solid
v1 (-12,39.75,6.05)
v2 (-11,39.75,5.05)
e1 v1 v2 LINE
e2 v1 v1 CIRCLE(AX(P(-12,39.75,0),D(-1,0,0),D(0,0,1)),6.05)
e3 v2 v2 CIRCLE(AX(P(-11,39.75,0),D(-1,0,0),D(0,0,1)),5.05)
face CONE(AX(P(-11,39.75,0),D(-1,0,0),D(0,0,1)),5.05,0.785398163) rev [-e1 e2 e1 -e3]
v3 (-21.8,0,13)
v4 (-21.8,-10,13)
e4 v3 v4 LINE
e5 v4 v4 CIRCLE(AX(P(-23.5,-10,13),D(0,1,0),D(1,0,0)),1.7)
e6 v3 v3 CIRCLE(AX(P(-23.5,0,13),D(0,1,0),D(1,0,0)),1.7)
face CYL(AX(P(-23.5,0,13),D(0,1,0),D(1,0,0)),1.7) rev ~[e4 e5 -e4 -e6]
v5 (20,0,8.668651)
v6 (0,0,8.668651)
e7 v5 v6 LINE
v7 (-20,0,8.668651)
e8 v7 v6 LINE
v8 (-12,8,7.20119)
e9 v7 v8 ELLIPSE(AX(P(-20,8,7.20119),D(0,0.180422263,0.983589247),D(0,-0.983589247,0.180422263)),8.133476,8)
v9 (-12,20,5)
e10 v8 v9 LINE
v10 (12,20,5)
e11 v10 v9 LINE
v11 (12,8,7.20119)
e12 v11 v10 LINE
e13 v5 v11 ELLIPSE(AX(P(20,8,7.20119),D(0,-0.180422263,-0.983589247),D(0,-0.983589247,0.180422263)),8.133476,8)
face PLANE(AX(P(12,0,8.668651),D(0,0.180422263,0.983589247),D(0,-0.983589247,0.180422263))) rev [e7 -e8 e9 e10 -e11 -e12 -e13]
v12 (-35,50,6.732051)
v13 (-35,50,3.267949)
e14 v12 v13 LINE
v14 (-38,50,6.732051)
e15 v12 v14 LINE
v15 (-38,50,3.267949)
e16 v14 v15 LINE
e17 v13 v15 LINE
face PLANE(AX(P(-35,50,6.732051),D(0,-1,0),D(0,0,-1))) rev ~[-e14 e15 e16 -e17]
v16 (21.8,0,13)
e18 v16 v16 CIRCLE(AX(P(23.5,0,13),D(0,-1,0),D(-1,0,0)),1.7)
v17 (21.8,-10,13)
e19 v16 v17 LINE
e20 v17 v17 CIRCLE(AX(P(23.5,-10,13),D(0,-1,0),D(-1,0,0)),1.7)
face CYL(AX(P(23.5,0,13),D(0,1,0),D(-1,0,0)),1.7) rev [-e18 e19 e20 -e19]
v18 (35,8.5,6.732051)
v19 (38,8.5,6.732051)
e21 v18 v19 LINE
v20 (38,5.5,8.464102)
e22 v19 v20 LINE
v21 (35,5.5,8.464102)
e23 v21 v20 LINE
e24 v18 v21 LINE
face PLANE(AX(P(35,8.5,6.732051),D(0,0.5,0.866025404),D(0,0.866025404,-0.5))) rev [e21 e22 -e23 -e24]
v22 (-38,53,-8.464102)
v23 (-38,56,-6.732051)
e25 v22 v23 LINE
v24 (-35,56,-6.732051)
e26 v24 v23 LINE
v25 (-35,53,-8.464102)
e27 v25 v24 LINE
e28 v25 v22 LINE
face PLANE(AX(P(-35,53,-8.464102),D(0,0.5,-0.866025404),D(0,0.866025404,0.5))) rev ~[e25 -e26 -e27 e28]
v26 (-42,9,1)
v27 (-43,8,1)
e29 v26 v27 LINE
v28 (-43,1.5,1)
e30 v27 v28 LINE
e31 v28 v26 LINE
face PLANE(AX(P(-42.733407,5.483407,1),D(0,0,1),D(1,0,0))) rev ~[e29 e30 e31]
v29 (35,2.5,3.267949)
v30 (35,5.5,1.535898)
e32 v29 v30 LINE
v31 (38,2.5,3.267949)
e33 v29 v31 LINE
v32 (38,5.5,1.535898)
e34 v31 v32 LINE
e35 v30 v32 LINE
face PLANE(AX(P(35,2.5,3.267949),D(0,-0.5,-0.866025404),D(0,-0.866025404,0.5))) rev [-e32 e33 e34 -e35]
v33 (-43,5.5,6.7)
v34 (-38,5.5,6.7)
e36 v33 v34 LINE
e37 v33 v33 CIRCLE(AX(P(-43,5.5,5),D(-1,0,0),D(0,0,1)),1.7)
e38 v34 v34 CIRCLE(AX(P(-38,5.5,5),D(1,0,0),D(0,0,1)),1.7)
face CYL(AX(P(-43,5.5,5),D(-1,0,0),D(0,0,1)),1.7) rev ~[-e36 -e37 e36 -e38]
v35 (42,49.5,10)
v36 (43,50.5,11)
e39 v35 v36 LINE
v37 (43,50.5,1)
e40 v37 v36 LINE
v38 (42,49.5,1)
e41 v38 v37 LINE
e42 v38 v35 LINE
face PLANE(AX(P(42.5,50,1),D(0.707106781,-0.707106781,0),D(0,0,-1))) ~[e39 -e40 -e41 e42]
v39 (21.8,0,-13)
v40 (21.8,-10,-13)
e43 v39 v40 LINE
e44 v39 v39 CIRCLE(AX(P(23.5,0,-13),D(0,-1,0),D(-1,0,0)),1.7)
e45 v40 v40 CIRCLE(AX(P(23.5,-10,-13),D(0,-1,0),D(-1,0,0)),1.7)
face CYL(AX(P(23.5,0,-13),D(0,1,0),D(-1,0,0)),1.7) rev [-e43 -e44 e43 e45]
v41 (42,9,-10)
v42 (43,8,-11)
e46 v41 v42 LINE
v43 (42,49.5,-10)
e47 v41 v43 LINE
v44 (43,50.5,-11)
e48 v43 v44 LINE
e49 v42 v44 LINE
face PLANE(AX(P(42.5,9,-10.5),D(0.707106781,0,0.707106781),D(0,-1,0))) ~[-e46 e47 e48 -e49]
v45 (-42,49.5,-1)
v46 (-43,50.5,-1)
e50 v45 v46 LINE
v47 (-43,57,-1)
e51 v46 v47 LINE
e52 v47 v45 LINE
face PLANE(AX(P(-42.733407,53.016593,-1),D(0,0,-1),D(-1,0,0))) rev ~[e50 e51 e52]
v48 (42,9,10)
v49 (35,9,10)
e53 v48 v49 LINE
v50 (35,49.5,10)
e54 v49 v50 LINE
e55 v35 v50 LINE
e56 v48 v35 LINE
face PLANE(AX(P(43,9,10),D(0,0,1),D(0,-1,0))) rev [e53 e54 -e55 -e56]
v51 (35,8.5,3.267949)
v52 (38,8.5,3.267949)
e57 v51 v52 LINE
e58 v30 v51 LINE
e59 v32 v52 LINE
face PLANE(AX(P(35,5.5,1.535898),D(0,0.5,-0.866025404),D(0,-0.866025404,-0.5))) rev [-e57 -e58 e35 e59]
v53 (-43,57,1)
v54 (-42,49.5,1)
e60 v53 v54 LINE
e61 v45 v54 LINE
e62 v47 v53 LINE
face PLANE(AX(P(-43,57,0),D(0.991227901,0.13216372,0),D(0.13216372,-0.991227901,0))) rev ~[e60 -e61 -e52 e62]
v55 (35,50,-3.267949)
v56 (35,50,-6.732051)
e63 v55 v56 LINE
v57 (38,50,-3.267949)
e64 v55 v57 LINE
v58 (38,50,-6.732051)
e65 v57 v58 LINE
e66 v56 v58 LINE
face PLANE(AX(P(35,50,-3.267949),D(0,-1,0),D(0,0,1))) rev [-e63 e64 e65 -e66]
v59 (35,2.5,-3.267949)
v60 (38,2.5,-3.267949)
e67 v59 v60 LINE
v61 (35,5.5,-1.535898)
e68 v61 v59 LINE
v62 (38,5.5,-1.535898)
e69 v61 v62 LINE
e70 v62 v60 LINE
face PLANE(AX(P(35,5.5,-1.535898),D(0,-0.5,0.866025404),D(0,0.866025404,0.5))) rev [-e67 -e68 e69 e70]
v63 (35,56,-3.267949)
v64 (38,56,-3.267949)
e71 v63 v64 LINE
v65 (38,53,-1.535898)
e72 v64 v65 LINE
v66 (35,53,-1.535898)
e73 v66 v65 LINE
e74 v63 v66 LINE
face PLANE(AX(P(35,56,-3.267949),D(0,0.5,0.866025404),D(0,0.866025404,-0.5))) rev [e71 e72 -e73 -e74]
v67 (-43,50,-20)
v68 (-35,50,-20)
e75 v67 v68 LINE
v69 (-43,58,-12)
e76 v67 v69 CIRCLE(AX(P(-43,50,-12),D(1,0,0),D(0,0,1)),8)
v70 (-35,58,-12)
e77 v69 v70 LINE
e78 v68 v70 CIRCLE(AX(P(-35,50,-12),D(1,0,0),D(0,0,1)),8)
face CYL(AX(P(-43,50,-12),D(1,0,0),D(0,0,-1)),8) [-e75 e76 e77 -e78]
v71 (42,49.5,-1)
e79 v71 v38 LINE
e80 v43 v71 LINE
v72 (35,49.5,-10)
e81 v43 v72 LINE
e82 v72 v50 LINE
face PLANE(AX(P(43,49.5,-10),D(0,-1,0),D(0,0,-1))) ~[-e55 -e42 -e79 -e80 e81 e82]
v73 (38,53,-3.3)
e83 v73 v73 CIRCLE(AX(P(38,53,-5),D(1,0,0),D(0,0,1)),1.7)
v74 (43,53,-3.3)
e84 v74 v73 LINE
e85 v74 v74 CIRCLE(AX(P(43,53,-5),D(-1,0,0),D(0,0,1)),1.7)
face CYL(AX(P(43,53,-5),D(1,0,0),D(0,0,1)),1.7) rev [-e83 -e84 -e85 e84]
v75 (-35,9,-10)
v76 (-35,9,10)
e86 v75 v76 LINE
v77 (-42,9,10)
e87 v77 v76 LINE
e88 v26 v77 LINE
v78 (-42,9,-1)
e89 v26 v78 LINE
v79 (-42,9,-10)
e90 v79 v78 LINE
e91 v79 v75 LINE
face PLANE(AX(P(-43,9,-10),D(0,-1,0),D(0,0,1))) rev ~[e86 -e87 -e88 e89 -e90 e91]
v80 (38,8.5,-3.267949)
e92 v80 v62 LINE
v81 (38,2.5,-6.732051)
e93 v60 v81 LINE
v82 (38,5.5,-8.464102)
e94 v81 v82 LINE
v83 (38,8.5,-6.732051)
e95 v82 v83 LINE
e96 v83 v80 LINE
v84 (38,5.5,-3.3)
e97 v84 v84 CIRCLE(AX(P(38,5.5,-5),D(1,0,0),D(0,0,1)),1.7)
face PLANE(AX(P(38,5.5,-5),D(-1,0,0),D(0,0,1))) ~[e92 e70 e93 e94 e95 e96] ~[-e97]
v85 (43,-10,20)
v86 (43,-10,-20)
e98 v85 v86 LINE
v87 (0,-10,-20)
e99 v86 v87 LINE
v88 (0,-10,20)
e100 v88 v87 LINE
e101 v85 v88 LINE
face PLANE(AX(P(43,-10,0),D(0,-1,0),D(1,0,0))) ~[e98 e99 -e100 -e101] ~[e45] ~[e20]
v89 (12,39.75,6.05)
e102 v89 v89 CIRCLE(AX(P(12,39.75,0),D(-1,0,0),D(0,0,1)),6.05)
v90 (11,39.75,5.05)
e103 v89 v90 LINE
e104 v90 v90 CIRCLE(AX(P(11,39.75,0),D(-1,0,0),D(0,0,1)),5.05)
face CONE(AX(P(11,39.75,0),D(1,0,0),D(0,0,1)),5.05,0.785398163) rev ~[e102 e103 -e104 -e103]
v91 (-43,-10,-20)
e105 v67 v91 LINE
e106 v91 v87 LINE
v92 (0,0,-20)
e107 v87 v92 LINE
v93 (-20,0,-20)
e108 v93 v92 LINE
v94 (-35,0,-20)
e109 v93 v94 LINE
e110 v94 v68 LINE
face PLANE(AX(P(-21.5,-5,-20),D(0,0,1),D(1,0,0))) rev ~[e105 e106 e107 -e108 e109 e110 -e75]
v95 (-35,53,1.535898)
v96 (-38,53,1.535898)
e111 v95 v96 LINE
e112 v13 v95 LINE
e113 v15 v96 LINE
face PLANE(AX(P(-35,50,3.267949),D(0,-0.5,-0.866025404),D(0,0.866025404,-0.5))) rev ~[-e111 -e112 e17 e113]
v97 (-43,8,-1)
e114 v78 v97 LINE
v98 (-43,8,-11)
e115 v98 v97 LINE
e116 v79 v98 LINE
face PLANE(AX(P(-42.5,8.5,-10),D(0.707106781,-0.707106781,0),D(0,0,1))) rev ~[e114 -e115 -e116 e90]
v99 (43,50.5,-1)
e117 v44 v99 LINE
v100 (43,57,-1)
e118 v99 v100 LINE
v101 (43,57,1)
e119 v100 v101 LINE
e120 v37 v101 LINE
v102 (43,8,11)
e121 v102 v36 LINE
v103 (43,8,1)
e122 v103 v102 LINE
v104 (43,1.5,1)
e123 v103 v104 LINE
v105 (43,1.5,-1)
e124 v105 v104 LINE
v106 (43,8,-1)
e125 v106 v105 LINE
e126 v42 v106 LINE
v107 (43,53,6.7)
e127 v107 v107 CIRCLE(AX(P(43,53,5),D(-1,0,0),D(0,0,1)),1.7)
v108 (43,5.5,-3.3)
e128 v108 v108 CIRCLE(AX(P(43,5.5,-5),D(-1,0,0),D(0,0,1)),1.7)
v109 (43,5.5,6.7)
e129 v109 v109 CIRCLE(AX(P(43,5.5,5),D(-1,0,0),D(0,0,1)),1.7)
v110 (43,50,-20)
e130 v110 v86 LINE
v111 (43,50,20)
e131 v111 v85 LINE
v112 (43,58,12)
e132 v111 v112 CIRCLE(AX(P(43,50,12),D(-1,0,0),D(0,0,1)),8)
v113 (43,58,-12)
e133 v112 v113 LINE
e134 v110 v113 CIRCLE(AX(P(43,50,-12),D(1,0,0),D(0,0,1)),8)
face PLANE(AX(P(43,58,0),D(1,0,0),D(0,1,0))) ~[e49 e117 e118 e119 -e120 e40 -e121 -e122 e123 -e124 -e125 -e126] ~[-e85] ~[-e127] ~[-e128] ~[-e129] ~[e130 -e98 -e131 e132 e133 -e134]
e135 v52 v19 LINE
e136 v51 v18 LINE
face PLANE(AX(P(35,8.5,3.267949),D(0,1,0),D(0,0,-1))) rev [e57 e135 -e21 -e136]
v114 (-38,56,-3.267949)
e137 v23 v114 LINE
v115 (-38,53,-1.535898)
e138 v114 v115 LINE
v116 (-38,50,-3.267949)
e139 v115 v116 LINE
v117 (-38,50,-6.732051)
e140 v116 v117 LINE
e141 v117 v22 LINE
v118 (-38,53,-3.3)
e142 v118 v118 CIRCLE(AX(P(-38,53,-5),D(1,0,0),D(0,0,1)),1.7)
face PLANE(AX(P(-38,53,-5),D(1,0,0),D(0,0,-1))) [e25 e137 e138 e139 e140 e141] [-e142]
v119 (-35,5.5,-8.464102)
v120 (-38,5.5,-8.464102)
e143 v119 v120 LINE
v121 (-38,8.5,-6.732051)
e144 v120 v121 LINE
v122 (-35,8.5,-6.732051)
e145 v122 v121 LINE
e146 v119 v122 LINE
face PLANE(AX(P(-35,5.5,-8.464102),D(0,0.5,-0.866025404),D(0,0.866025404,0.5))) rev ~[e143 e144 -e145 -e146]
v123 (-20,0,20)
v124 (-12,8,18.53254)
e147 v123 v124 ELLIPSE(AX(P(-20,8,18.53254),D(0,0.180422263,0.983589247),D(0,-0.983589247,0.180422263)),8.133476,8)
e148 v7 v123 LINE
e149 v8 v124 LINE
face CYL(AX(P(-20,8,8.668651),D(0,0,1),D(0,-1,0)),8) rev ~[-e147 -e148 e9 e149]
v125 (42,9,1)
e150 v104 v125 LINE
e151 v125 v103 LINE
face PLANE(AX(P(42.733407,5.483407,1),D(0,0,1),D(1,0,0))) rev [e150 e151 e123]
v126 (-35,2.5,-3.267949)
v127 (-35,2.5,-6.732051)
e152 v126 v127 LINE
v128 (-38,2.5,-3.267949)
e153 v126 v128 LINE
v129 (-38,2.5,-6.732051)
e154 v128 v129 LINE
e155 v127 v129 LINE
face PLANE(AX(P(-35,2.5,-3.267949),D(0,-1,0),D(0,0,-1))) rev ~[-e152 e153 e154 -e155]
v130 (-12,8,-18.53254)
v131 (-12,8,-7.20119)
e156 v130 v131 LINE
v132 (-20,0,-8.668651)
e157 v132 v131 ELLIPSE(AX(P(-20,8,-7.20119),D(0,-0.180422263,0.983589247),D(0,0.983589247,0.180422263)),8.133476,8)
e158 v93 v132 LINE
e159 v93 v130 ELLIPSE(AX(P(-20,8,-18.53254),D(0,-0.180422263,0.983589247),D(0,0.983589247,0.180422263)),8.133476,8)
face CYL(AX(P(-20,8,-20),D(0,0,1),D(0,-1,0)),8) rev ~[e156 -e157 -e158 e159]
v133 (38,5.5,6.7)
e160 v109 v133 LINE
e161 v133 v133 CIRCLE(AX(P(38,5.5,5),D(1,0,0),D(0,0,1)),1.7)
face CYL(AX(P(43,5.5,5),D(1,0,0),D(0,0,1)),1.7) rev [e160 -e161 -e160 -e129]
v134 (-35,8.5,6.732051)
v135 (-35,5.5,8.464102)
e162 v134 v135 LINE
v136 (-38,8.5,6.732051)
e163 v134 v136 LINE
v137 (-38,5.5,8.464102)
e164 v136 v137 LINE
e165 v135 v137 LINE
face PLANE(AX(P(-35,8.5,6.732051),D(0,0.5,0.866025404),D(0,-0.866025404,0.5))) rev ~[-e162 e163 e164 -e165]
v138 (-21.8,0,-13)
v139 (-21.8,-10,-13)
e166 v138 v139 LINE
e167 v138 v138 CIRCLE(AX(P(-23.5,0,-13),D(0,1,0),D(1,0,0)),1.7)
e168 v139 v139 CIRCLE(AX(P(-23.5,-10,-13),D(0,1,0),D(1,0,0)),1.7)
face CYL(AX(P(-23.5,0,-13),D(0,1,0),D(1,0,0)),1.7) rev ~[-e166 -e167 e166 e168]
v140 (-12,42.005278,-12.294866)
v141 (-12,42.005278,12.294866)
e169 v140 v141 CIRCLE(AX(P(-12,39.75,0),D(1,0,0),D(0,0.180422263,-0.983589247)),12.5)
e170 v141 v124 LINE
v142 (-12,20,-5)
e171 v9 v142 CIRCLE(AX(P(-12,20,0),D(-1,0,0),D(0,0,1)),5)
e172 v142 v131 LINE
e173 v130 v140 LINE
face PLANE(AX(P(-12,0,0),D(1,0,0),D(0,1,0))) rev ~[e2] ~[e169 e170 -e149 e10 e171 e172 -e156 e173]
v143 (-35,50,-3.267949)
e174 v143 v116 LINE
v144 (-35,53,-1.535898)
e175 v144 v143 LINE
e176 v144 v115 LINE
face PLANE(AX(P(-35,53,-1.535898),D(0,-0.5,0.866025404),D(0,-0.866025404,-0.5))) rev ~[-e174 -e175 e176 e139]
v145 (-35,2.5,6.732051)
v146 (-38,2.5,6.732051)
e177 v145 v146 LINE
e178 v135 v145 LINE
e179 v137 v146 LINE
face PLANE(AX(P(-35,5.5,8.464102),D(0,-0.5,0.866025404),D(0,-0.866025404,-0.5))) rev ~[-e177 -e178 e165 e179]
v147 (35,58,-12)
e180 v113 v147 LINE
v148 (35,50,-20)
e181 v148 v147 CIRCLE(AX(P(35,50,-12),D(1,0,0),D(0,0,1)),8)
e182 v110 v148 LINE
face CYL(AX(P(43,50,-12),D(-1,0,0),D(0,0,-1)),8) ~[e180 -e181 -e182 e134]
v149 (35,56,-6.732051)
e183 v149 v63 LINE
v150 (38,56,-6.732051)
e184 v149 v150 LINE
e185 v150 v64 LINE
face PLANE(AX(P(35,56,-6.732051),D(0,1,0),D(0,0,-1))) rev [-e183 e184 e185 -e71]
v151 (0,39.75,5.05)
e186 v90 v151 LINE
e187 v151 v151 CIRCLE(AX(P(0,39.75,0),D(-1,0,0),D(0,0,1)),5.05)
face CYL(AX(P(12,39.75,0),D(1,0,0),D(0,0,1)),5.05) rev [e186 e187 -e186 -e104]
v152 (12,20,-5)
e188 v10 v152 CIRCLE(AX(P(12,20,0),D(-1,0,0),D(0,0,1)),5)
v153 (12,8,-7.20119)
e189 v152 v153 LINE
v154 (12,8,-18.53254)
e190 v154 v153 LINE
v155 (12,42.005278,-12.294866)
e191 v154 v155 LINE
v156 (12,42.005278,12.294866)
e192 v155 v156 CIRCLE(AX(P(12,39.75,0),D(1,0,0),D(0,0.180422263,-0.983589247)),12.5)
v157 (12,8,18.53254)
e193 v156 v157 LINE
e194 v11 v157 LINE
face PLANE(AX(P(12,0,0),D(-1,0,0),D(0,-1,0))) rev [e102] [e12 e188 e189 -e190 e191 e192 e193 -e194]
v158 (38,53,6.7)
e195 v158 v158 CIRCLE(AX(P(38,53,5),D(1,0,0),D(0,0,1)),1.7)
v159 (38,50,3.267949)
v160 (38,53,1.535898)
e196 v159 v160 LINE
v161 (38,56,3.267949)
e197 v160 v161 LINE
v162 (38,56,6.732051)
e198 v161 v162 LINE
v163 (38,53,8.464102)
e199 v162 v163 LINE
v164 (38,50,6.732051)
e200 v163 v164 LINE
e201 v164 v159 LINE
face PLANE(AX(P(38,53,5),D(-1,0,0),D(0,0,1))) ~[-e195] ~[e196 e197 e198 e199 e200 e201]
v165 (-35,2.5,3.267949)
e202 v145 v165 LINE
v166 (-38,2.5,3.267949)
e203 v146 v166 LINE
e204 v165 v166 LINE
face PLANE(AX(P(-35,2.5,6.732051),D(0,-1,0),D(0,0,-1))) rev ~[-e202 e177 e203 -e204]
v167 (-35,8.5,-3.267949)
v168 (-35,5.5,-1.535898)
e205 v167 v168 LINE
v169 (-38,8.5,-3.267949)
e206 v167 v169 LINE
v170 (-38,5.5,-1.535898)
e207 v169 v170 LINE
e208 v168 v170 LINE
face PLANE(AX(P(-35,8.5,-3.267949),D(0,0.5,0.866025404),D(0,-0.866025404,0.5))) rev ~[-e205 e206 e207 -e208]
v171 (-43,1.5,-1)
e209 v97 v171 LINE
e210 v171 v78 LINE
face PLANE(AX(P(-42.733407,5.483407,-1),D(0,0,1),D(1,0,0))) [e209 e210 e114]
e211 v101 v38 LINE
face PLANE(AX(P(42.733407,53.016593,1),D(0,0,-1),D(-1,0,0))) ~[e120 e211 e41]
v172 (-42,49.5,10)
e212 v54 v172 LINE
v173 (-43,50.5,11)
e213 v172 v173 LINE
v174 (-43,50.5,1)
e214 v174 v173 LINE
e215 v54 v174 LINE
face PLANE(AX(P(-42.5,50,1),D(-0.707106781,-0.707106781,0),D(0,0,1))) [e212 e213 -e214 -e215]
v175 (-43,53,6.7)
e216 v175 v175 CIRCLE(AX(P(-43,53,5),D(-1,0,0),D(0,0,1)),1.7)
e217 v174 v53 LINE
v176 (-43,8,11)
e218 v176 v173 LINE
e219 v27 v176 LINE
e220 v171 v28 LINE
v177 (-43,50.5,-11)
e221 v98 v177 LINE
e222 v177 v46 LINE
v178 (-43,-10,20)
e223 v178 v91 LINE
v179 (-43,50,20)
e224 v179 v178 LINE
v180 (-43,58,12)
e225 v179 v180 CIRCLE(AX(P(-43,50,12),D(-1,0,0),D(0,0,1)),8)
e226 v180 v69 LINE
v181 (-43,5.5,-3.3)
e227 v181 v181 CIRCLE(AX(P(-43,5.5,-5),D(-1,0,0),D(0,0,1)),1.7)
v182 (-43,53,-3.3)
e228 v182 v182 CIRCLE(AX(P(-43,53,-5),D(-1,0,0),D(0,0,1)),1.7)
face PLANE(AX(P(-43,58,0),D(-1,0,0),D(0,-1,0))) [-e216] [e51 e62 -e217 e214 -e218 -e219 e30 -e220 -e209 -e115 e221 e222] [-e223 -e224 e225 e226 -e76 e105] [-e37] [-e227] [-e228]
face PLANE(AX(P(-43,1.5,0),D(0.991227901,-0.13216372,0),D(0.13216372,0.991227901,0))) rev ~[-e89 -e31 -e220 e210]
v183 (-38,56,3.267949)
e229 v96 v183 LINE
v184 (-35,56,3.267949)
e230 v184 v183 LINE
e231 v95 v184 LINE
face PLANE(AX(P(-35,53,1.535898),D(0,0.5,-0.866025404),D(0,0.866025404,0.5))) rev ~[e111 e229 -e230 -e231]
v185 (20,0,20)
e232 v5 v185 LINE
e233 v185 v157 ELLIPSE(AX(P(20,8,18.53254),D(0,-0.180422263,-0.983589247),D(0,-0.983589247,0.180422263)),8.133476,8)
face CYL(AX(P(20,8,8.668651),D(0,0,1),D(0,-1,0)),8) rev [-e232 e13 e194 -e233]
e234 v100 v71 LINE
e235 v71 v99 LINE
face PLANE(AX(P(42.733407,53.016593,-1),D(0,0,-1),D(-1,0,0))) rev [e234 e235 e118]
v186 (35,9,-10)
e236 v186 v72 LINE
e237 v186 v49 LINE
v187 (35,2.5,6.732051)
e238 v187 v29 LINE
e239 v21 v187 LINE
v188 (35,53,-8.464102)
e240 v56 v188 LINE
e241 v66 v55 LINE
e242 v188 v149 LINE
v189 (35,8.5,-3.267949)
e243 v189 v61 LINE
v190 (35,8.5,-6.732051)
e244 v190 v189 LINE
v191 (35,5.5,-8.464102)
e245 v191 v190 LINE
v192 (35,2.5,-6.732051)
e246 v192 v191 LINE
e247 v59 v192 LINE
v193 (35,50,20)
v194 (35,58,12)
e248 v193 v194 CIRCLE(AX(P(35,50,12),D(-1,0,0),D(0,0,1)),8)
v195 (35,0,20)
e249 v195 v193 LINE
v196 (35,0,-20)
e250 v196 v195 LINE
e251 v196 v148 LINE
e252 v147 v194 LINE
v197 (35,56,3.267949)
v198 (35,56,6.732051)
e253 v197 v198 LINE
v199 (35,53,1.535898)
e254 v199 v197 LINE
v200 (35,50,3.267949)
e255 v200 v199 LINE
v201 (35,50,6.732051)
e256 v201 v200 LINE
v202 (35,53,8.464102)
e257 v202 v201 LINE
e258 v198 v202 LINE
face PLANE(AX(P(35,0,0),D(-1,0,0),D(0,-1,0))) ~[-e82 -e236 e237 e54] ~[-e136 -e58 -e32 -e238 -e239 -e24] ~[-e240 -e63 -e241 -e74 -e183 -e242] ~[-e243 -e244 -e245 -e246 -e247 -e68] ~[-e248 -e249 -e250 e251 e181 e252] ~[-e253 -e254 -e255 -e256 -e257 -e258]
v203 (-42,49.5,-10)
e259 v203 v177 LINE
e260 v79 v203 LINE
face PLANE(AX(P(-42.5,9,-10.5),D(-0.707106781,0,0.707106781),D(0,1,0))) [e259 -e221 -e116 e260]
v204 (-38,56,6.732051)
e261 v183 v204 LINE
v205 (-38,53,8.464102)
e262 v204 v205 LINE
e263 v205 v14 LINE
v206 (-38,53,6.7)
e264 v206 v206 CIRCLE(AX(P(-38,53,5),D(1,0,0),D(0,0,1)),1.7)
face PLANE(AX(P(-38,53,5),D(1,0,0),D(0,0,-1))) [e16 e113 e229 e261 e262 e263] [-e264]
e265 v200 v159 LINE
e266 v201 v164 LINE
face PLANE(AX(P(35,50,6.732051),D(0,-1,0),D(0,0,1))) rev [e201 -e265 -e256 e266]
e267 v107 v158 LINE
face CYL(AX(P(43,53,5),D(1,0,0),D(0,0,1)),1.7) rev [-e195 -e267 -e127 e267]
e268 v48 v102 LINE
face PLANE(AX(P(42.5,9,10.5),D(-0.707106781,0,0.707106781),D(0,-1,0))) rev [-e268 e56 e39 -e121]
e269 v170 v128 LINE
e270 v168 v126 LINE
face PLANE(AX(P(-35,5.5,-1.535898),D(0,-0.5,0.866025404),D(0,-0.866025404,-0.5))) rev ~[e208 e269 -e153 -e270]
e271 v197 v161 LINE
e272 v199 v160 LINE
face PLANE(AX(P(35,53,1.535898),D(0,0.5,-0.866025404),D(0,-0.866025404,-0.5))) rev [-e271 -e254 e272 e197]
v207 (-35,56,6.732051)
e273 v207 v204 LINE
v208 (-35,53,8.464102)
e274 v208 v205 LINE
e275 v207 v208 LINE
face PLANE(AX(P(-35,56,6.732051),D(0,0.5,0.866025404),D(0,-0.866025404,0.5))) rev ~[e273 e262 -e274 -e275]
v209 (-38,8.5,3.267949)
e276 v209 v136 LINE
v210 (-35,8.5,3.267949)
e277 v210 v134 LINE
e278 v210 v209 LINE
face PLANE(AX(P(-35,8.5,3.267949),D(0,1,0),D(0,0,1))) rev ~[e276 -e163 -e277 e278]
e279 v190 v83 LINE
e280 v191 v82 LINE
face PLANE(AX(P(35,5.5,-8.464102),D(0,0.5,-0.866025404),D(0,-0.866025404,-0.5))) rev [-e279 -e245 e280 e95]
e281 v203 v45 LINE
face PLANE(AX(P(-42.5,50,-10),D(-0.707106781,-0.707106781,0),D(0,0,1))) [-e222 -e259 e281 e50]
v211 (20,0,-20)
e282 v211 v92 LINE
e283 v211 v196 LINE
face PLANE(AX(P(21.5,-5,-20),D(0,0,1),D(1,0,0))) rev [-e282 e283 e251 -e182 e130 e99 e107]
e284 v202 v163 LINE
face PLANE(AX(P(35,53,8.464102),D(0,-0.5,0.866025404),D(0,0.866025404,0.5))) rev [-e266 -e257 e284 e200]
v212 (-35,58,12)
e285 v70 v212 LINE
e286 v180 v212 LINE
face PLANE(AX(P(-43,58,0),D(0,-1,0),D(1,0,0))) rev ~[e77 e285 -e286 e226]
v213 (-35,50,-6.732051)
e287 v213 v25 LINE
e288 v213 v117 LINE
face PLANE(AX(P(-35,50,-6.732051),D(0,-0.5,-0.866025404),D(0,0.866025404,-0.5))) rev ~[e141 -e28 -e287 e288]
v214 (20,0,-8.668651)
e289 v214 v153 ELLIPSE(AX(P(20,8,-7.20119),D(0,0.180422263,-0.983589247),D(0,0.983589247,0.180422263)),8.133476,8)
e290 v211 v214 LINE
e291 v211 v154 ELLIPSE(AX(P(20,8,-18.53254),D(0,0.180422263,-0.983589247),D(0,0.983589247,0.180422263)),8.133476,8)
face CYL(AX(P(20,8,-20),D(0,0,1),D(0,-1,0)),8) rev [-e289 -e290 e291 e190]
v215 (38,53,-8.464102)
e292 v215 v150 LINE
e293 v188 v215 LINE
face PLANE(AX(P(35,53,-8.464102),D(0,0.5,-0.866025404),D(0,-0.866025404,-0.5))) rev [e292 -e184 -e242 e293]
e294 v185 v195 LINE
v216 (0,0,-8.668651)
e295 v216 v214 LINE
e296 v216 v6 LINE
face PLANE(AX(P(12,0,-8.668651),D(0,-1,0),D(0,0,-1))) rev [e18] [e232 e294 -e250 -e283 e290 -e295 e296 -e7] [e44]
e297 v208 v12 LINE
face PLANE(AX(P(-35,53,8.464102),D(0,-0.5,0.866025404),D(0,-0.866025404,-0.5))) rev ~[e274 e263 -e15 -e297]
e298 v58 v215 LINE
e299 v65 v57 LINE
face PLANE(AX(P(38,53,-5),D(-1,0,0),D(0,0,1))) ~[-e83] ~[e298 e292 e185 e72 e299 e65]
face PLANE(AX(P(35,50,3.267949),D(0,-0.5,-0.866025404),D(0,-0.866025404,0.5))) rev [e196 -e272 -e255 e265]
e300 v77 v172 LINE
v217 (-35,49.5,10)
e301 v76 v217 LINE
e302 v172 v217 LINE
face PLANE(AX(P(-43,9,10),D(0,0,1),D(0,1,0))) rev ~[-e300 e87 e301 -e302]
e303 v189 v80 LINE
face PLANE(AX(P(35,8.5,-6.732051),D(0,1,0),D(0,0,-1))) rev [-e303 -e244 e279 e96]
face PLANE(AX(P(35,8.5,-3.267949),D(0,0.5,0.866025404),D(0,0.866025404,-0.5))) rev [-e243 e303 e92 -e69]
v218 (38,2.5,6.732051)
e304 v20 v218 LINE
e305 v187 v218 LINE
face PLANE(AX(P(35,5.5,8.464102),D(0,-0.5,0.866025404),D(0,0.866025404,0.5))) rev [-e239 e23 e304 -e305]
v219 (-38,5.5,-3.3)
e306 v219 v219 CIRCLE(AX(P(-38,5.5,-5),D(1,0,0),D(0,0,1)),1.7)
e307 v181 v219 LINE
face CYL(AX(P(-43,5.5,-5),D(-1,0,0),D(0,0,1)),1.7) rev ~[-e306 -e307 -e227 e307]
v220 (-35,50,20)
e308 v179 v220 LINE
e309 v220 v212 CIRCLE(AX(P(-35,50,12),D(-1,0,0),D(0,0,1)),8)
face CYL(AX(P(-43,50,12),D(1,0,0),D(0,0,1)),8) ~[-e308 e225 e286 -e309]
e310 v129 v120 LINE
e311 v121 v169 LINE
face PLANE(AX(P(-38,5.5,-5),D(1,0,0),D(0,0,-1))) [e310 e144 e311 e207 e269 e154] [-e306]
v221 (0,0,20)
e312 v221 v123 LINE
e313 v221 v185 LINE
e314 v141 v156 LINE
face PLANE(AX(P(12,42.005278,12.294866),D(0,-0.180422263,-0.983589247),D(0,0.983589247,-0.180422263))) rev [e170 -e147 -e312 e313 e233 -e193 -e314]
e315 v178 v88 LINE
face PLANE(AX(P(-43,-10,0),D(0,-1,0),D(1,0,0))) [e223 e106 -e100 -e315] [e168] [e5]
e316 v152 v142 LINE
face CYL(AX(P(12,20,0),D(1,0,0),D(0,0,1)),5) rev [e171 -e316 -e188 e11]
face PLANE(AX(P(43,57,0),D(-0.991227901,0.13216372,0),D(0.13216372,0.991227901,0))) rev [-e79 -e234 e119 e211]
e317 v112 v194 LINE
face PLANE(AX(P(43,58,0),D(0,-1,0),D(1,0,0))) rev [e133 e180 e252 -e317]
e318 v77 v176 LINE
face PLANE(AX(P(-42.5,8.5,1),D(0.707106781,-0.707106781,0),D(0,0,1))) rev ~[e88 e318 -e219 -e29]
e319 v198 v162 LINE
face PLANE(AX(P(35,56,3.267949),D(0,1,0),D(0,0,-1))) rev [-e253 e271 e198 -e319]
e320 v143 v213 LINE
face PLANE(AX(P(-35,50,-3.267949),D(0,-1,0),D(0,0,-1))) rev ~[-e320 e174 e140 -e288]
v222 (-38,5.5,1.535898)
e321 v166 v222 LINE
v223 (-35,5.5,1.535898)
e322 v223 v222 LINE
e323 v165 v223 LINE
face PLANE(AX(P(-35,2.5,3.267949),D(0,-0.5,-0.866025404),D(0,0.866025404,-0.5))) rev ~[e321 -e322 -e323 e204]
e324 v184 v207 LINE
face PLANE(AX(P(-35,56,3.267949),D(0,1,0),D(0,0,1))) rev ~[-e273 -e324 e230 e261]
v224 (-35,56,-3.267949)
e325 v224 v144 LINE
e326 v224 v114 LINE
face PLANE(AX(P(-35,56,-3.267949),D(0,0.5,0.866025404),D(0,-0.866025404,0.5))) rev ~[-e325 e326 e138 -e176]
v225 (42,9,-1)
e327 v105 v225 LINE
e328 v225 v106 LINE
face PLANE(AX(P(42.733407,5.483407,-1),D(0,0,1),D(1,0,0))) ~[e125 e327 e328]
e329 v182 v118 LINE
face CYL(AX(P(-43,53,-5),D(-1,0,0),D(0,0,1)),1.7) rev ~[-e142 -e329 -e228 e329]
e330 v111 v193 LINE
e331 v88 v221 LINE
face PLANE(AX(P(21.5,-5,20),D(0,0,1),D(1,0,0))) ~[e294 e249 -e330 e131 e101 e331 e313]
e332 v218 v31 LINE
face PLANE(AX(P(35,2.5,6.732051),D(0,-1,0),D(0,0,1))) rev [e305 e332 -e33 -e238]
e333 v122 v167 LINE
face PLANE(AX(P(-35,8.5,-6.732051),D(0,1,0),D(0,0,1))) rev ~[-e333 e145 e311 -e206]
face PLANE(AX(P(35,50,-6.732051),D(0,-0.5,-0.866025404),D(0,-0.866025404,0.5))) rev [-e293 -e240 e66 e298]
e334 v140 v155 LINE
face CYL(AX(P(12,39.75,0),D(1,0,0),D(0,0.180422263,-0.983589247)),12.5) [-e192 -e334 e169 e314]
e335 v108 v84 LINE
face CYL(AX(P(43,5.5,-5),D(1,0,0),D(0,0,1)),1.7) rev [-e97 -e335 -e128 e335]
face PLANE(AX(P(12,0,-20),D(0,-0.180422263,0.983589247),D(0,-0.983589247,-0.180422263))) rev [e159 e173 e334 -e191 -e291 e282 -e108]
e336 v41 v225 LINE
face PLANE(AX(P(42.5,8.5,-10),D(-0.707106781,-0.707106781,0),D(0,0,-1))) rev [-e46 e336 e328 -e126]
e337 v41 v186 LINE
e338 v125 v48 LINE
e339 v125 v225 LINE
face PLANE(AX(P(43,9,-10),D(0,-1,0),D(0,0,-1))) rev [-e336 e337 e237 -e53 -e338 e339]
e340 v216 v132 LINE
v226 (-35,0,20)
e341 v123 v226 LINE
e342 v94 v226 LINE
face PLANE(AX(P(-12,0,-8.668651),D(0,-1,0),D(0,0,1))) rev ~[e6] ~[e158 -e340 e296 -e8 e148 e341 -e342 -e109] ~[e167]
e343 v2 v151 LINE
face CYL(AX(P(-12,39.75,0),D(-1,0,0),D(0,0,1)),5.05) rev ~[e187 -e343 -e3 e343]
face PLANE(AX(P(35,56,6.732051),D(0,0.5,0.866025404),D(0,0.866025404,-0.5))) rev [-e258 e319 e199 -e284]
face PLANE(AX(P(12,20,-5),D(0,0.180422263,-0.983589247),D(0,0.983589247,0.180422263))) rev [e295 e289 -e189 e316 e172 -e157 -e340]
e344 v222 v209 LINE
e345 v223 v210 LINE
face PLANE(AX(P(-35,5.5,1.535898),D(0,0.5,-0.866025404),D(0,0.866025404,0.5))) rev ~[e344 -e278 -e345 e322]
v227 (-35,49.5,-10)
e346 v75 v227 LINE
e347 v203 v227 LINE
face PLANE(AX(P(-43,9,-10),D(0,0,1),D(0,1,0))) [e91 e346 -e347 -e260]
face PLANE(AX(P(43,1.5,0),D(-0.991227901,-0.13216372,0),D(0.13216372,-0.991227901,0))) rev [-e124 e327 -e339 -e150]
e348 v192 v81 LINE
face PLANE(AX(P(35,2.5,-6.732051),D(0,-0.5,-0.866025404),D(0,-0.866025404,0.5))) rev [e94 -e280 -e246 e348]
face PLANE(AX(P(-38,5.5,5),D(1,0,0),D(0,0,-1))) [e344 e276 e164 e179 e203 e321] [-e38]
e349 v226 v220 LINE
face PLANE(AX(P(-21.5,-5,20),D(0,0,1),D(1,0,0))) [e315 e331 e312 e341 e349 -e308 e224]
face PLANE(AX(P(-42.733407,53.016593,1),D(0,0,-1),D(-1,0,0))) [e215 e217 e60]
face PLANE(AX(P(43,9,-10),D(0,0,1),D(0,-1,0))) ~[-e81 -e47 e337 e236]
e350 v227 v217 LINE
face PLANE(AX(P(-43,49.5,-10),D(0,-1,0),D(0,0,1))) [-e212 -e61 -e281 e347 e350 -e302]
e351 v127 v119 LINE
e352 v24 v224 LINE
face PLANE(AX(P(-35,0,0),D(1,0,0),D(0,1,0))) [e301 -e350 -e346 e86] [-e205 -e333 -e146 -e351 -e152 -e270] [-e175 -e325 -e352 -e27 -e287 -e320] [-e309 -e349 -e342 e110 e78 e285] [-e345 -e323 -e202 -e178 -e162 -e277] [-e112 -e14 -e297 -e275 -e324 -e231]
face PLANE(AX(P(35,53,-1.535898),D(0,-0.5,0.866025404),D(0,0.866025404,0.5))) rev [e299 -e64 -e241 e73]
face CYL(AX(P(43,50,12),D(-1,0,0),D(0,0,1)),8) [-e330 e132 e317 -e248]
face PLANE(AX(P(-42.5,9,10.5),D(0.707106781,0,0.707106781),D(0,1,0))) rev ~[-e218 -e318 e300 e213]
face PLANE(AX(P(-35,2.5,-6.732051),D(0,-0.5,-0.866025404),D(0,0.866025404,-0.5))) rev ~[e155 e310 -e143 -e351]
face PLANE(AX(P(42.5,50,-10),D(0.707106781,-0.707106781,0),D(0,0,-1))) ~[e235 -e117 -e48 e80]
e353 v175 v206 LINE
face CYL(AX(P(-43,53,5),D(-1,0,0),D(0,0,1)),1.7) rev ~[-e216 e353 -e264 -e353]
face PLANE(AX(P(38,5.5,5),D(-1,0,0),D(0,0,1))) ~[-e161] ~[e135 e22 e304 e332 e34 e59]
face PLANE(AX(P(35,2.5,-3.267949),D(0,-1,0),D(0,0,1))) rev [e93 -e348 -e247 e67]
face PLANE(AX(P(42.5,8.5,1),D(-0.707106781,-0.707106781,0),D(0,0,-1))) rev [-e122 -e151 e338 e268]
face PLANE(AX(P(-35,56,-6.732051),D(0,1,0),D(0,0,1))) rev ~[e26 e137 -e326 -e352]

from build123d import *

# Parameters (mm, degrees)
SKETCH_1_W             = 8
SKETCH_1_H             = 58
SKETCH_1_W_2           = 12
EXTRUDE_1_DEPTH        = 20
SKETCH_3_R             = 1.7
SKETCH_3_W             = 20
SKETCH_3_H             = 40.5
CUT_EXTRUDE_1575_DEPTH = 8
SKETCH_2_R             = 5.05
CUT_EXTRUDE_2513_DEPTH = 12
CUT_EXTRUDE_2852_DEPTH = 1
SKETCH_5_R             = 1.7
CUT_EXTRUDE_3257_DEPTH = 3
SKETCH_6_R             = 1.7
CUT_EXTRUDE_5_DEPTH    = 10
FILLET_1_R             = 8
CHAMFER_1_SIZE         = 1


with BuildPart() as part:
    # Эскиз1 → Бобышка-Вытянуть1 (new body, symmetric)
    with BuildSketch(Plane.XY):
        Polygon((0, -10), (0, 0), (-12, 0), (-35, 0), (-43, 0), (-43, -10), align=None)
        with Locations((-39, 29)):
            Rectangle(SKETCH_1_W, SKETCH_1_H)
        with Locations((-6, 29)):
            Rectangle(SKETCH_1_W_2, SKETCH_1_H)
    extrude(amount=EXTRUDE_1_DEPTH, both=True)

    # Эскиз3 → Cut-Extrude 1575 (cut)
    with BuildSketch(Plane.ZY.offset(43)):
        with Locations((-5, 53)):
            Circle(SKETCH_3_R)
        with Locations((5, 53)):
            Circle(SKETCH_3_R)
        with Locations((-5, 5.5)):
            Circle(SKETCH_3_R)
        with Locations((5, 5.5)):
            Circle(SKETCH_3_R)
        with Locations((0, 29.25)):
            Rectangle(SKETCH_3_W, SKETCH_3_H)
    extrude(amount=-CUT_EXTRUDE_1575_DEPTH, mode=Mode.SUBTRACT)

    # Эскиз2 → Cut-Extrude 2513 (cut)
    with BuildSketch(Plane.ZY.offset(12)):
        with BuildLine():
            Line((-20, 58), (-20, 0))
            Line((-20, 0), (-12.294865589, 42.005278284))
            ThreePointArc((-12.294865589, 42.005278284), (0, 52.25), (12.294865589, 42.005278284))
            Line((12.294865589, 42.005278284), (20, 0))
            Line((20, 0), (20, 58))
            Line((20, 58), (-20, 58))
        make_face()
        with BuildLine():
            Line((-5, 20), (-8.668650572, 0))
            Line((-8.668650572, 0), (8.668650572, 0))
            Line((8.668650572, 0), (5, 20))
            ThreePointArc((5, 20), (0, 25), (-5, 20))
        make_face()
        with Locations((0, 39.75)):
            Circle(SKETCH_2_R)
    extrude(amount=-CUT_EXTRUDE_2513_DEPTH, mode=Mode.SUBTRACT)

    # Эскиз4 → Cut-Extrude 2852 (cut, symmetric)
    with BuildSketch(Plane.XY):
        Polygon((-42, 49.5), (-43, 49.5), (-43, 57), align=None)
        Polygon((-43, 9), (-43, 1.5), (-42, 9), align=None)
    extrude(amount=CUT_EXTRUDE_2852_DEPTH, both=True, mode=Mode.SUBTRACT)

    # Эскиз5 → Cut-Extrude 3257 (cut)
    with BuildSketch(Plane(origin=(-35, 0, 0), x_dir=(0, 0, -1), z_dir=(1, 0, 0))):
        Polygon((-6.732050808, 56), (-8.464101615, 53), (-6.732050808, 50), (-3.267949192, 50), (-1.535898385, 53), (-3.267949192, 56), align=None)
        with Locations((-5, 53)):
            Circle(SKETCH_5_R, mode=Mode.SUBTRACT)
        Polygon((1.535898385, 53), (3.267949192, 50), (6.732050808, 50), (8.464101615, 53), (6.732050808, 56), (3.267949192, 56), align=None)
        with Locations((5, 53)):
            Circle(SKETCH_5_R, mode=Mode.SUBTRACT)
        Polygon((-6.732050808, 8.5), (-8.464101615, 5.5), (-6.732050808, 2.5), (-3.267949192, 2.5), (-1.535898385, 5.5), (-3.267949192, 8.5), align=None)
        with Locations((-5, 5.5)):
            Circle(SKETCH_5_R, mode=Mode.SUBTRACT)
        Polygon((1.535898385, 5.5), (3.267949192, 2.5), (6.732050808, 2.5), (8.464101615, 5.5), (6.732050808, 8.5), (3.267949192, 8.5), align=None)
        with Locations((5, 5.5)):
            Circle(SKETCH_5_R, mode=Mode.SUBTRACT)
    extrude(amount=-CUT_EXTRUDE_3257_DEPTH, mode=Mode.SUBTRACT)

    # Эскиз6 → Вырез-Вытянуть5 (cut)
    with BuildSketch(Plane(origin=(0, 0, 0), x_dir=(1, 0, 0), z_dir=(0, 1, 0))):
        with Locations((-23.5, 13)):
            Circle(SKETCH_6_R)
        with Locations((-23.5, -13)):
            Circle(SKETCH_6_R)
    extrude(amount=-CUT_EXTRUDE_5_DEPTH, mode=Mode.SUBTRACT)

    # Скругление1
    fillet_1_edges = [part.edges().sort_by_distance(p)[0] for p in [
        (-39, 58, -20),
        (-12, 0, 14.334325286),
        (-39, 58, 20),
        (-12, 0, -14.334325286),
    ]]
    fillet(fillet_1_edges, radius=FILLET_1_R)

    # Фаска1
    chamfer_1_edges = [part.edges().sort_by_distance(p)[0] for p in [
        (-12, 39.75, -5.05),
        (-43, 9, 5.5),
        (-43, 49.5, 5.5),
        (-43, 29.25, 10),
        (-43, 9, -5.5),
        (-43, 49.5, -5.5),
        (-43, 29.25, -10),
    ]]
    chamfer(chamfer_1_edges, length=CHAMFER_1_SIZE)

    # Зеркальное отражение2: part across face


with BuildPart() as part_1:
    add(part.part)
    add(part.part.mirror(Plane(origin=(0, 17.029159437, 0), x_dir=(0, 0, 1), z_dir=(1, 0, 0))))


solid = part_1.part
